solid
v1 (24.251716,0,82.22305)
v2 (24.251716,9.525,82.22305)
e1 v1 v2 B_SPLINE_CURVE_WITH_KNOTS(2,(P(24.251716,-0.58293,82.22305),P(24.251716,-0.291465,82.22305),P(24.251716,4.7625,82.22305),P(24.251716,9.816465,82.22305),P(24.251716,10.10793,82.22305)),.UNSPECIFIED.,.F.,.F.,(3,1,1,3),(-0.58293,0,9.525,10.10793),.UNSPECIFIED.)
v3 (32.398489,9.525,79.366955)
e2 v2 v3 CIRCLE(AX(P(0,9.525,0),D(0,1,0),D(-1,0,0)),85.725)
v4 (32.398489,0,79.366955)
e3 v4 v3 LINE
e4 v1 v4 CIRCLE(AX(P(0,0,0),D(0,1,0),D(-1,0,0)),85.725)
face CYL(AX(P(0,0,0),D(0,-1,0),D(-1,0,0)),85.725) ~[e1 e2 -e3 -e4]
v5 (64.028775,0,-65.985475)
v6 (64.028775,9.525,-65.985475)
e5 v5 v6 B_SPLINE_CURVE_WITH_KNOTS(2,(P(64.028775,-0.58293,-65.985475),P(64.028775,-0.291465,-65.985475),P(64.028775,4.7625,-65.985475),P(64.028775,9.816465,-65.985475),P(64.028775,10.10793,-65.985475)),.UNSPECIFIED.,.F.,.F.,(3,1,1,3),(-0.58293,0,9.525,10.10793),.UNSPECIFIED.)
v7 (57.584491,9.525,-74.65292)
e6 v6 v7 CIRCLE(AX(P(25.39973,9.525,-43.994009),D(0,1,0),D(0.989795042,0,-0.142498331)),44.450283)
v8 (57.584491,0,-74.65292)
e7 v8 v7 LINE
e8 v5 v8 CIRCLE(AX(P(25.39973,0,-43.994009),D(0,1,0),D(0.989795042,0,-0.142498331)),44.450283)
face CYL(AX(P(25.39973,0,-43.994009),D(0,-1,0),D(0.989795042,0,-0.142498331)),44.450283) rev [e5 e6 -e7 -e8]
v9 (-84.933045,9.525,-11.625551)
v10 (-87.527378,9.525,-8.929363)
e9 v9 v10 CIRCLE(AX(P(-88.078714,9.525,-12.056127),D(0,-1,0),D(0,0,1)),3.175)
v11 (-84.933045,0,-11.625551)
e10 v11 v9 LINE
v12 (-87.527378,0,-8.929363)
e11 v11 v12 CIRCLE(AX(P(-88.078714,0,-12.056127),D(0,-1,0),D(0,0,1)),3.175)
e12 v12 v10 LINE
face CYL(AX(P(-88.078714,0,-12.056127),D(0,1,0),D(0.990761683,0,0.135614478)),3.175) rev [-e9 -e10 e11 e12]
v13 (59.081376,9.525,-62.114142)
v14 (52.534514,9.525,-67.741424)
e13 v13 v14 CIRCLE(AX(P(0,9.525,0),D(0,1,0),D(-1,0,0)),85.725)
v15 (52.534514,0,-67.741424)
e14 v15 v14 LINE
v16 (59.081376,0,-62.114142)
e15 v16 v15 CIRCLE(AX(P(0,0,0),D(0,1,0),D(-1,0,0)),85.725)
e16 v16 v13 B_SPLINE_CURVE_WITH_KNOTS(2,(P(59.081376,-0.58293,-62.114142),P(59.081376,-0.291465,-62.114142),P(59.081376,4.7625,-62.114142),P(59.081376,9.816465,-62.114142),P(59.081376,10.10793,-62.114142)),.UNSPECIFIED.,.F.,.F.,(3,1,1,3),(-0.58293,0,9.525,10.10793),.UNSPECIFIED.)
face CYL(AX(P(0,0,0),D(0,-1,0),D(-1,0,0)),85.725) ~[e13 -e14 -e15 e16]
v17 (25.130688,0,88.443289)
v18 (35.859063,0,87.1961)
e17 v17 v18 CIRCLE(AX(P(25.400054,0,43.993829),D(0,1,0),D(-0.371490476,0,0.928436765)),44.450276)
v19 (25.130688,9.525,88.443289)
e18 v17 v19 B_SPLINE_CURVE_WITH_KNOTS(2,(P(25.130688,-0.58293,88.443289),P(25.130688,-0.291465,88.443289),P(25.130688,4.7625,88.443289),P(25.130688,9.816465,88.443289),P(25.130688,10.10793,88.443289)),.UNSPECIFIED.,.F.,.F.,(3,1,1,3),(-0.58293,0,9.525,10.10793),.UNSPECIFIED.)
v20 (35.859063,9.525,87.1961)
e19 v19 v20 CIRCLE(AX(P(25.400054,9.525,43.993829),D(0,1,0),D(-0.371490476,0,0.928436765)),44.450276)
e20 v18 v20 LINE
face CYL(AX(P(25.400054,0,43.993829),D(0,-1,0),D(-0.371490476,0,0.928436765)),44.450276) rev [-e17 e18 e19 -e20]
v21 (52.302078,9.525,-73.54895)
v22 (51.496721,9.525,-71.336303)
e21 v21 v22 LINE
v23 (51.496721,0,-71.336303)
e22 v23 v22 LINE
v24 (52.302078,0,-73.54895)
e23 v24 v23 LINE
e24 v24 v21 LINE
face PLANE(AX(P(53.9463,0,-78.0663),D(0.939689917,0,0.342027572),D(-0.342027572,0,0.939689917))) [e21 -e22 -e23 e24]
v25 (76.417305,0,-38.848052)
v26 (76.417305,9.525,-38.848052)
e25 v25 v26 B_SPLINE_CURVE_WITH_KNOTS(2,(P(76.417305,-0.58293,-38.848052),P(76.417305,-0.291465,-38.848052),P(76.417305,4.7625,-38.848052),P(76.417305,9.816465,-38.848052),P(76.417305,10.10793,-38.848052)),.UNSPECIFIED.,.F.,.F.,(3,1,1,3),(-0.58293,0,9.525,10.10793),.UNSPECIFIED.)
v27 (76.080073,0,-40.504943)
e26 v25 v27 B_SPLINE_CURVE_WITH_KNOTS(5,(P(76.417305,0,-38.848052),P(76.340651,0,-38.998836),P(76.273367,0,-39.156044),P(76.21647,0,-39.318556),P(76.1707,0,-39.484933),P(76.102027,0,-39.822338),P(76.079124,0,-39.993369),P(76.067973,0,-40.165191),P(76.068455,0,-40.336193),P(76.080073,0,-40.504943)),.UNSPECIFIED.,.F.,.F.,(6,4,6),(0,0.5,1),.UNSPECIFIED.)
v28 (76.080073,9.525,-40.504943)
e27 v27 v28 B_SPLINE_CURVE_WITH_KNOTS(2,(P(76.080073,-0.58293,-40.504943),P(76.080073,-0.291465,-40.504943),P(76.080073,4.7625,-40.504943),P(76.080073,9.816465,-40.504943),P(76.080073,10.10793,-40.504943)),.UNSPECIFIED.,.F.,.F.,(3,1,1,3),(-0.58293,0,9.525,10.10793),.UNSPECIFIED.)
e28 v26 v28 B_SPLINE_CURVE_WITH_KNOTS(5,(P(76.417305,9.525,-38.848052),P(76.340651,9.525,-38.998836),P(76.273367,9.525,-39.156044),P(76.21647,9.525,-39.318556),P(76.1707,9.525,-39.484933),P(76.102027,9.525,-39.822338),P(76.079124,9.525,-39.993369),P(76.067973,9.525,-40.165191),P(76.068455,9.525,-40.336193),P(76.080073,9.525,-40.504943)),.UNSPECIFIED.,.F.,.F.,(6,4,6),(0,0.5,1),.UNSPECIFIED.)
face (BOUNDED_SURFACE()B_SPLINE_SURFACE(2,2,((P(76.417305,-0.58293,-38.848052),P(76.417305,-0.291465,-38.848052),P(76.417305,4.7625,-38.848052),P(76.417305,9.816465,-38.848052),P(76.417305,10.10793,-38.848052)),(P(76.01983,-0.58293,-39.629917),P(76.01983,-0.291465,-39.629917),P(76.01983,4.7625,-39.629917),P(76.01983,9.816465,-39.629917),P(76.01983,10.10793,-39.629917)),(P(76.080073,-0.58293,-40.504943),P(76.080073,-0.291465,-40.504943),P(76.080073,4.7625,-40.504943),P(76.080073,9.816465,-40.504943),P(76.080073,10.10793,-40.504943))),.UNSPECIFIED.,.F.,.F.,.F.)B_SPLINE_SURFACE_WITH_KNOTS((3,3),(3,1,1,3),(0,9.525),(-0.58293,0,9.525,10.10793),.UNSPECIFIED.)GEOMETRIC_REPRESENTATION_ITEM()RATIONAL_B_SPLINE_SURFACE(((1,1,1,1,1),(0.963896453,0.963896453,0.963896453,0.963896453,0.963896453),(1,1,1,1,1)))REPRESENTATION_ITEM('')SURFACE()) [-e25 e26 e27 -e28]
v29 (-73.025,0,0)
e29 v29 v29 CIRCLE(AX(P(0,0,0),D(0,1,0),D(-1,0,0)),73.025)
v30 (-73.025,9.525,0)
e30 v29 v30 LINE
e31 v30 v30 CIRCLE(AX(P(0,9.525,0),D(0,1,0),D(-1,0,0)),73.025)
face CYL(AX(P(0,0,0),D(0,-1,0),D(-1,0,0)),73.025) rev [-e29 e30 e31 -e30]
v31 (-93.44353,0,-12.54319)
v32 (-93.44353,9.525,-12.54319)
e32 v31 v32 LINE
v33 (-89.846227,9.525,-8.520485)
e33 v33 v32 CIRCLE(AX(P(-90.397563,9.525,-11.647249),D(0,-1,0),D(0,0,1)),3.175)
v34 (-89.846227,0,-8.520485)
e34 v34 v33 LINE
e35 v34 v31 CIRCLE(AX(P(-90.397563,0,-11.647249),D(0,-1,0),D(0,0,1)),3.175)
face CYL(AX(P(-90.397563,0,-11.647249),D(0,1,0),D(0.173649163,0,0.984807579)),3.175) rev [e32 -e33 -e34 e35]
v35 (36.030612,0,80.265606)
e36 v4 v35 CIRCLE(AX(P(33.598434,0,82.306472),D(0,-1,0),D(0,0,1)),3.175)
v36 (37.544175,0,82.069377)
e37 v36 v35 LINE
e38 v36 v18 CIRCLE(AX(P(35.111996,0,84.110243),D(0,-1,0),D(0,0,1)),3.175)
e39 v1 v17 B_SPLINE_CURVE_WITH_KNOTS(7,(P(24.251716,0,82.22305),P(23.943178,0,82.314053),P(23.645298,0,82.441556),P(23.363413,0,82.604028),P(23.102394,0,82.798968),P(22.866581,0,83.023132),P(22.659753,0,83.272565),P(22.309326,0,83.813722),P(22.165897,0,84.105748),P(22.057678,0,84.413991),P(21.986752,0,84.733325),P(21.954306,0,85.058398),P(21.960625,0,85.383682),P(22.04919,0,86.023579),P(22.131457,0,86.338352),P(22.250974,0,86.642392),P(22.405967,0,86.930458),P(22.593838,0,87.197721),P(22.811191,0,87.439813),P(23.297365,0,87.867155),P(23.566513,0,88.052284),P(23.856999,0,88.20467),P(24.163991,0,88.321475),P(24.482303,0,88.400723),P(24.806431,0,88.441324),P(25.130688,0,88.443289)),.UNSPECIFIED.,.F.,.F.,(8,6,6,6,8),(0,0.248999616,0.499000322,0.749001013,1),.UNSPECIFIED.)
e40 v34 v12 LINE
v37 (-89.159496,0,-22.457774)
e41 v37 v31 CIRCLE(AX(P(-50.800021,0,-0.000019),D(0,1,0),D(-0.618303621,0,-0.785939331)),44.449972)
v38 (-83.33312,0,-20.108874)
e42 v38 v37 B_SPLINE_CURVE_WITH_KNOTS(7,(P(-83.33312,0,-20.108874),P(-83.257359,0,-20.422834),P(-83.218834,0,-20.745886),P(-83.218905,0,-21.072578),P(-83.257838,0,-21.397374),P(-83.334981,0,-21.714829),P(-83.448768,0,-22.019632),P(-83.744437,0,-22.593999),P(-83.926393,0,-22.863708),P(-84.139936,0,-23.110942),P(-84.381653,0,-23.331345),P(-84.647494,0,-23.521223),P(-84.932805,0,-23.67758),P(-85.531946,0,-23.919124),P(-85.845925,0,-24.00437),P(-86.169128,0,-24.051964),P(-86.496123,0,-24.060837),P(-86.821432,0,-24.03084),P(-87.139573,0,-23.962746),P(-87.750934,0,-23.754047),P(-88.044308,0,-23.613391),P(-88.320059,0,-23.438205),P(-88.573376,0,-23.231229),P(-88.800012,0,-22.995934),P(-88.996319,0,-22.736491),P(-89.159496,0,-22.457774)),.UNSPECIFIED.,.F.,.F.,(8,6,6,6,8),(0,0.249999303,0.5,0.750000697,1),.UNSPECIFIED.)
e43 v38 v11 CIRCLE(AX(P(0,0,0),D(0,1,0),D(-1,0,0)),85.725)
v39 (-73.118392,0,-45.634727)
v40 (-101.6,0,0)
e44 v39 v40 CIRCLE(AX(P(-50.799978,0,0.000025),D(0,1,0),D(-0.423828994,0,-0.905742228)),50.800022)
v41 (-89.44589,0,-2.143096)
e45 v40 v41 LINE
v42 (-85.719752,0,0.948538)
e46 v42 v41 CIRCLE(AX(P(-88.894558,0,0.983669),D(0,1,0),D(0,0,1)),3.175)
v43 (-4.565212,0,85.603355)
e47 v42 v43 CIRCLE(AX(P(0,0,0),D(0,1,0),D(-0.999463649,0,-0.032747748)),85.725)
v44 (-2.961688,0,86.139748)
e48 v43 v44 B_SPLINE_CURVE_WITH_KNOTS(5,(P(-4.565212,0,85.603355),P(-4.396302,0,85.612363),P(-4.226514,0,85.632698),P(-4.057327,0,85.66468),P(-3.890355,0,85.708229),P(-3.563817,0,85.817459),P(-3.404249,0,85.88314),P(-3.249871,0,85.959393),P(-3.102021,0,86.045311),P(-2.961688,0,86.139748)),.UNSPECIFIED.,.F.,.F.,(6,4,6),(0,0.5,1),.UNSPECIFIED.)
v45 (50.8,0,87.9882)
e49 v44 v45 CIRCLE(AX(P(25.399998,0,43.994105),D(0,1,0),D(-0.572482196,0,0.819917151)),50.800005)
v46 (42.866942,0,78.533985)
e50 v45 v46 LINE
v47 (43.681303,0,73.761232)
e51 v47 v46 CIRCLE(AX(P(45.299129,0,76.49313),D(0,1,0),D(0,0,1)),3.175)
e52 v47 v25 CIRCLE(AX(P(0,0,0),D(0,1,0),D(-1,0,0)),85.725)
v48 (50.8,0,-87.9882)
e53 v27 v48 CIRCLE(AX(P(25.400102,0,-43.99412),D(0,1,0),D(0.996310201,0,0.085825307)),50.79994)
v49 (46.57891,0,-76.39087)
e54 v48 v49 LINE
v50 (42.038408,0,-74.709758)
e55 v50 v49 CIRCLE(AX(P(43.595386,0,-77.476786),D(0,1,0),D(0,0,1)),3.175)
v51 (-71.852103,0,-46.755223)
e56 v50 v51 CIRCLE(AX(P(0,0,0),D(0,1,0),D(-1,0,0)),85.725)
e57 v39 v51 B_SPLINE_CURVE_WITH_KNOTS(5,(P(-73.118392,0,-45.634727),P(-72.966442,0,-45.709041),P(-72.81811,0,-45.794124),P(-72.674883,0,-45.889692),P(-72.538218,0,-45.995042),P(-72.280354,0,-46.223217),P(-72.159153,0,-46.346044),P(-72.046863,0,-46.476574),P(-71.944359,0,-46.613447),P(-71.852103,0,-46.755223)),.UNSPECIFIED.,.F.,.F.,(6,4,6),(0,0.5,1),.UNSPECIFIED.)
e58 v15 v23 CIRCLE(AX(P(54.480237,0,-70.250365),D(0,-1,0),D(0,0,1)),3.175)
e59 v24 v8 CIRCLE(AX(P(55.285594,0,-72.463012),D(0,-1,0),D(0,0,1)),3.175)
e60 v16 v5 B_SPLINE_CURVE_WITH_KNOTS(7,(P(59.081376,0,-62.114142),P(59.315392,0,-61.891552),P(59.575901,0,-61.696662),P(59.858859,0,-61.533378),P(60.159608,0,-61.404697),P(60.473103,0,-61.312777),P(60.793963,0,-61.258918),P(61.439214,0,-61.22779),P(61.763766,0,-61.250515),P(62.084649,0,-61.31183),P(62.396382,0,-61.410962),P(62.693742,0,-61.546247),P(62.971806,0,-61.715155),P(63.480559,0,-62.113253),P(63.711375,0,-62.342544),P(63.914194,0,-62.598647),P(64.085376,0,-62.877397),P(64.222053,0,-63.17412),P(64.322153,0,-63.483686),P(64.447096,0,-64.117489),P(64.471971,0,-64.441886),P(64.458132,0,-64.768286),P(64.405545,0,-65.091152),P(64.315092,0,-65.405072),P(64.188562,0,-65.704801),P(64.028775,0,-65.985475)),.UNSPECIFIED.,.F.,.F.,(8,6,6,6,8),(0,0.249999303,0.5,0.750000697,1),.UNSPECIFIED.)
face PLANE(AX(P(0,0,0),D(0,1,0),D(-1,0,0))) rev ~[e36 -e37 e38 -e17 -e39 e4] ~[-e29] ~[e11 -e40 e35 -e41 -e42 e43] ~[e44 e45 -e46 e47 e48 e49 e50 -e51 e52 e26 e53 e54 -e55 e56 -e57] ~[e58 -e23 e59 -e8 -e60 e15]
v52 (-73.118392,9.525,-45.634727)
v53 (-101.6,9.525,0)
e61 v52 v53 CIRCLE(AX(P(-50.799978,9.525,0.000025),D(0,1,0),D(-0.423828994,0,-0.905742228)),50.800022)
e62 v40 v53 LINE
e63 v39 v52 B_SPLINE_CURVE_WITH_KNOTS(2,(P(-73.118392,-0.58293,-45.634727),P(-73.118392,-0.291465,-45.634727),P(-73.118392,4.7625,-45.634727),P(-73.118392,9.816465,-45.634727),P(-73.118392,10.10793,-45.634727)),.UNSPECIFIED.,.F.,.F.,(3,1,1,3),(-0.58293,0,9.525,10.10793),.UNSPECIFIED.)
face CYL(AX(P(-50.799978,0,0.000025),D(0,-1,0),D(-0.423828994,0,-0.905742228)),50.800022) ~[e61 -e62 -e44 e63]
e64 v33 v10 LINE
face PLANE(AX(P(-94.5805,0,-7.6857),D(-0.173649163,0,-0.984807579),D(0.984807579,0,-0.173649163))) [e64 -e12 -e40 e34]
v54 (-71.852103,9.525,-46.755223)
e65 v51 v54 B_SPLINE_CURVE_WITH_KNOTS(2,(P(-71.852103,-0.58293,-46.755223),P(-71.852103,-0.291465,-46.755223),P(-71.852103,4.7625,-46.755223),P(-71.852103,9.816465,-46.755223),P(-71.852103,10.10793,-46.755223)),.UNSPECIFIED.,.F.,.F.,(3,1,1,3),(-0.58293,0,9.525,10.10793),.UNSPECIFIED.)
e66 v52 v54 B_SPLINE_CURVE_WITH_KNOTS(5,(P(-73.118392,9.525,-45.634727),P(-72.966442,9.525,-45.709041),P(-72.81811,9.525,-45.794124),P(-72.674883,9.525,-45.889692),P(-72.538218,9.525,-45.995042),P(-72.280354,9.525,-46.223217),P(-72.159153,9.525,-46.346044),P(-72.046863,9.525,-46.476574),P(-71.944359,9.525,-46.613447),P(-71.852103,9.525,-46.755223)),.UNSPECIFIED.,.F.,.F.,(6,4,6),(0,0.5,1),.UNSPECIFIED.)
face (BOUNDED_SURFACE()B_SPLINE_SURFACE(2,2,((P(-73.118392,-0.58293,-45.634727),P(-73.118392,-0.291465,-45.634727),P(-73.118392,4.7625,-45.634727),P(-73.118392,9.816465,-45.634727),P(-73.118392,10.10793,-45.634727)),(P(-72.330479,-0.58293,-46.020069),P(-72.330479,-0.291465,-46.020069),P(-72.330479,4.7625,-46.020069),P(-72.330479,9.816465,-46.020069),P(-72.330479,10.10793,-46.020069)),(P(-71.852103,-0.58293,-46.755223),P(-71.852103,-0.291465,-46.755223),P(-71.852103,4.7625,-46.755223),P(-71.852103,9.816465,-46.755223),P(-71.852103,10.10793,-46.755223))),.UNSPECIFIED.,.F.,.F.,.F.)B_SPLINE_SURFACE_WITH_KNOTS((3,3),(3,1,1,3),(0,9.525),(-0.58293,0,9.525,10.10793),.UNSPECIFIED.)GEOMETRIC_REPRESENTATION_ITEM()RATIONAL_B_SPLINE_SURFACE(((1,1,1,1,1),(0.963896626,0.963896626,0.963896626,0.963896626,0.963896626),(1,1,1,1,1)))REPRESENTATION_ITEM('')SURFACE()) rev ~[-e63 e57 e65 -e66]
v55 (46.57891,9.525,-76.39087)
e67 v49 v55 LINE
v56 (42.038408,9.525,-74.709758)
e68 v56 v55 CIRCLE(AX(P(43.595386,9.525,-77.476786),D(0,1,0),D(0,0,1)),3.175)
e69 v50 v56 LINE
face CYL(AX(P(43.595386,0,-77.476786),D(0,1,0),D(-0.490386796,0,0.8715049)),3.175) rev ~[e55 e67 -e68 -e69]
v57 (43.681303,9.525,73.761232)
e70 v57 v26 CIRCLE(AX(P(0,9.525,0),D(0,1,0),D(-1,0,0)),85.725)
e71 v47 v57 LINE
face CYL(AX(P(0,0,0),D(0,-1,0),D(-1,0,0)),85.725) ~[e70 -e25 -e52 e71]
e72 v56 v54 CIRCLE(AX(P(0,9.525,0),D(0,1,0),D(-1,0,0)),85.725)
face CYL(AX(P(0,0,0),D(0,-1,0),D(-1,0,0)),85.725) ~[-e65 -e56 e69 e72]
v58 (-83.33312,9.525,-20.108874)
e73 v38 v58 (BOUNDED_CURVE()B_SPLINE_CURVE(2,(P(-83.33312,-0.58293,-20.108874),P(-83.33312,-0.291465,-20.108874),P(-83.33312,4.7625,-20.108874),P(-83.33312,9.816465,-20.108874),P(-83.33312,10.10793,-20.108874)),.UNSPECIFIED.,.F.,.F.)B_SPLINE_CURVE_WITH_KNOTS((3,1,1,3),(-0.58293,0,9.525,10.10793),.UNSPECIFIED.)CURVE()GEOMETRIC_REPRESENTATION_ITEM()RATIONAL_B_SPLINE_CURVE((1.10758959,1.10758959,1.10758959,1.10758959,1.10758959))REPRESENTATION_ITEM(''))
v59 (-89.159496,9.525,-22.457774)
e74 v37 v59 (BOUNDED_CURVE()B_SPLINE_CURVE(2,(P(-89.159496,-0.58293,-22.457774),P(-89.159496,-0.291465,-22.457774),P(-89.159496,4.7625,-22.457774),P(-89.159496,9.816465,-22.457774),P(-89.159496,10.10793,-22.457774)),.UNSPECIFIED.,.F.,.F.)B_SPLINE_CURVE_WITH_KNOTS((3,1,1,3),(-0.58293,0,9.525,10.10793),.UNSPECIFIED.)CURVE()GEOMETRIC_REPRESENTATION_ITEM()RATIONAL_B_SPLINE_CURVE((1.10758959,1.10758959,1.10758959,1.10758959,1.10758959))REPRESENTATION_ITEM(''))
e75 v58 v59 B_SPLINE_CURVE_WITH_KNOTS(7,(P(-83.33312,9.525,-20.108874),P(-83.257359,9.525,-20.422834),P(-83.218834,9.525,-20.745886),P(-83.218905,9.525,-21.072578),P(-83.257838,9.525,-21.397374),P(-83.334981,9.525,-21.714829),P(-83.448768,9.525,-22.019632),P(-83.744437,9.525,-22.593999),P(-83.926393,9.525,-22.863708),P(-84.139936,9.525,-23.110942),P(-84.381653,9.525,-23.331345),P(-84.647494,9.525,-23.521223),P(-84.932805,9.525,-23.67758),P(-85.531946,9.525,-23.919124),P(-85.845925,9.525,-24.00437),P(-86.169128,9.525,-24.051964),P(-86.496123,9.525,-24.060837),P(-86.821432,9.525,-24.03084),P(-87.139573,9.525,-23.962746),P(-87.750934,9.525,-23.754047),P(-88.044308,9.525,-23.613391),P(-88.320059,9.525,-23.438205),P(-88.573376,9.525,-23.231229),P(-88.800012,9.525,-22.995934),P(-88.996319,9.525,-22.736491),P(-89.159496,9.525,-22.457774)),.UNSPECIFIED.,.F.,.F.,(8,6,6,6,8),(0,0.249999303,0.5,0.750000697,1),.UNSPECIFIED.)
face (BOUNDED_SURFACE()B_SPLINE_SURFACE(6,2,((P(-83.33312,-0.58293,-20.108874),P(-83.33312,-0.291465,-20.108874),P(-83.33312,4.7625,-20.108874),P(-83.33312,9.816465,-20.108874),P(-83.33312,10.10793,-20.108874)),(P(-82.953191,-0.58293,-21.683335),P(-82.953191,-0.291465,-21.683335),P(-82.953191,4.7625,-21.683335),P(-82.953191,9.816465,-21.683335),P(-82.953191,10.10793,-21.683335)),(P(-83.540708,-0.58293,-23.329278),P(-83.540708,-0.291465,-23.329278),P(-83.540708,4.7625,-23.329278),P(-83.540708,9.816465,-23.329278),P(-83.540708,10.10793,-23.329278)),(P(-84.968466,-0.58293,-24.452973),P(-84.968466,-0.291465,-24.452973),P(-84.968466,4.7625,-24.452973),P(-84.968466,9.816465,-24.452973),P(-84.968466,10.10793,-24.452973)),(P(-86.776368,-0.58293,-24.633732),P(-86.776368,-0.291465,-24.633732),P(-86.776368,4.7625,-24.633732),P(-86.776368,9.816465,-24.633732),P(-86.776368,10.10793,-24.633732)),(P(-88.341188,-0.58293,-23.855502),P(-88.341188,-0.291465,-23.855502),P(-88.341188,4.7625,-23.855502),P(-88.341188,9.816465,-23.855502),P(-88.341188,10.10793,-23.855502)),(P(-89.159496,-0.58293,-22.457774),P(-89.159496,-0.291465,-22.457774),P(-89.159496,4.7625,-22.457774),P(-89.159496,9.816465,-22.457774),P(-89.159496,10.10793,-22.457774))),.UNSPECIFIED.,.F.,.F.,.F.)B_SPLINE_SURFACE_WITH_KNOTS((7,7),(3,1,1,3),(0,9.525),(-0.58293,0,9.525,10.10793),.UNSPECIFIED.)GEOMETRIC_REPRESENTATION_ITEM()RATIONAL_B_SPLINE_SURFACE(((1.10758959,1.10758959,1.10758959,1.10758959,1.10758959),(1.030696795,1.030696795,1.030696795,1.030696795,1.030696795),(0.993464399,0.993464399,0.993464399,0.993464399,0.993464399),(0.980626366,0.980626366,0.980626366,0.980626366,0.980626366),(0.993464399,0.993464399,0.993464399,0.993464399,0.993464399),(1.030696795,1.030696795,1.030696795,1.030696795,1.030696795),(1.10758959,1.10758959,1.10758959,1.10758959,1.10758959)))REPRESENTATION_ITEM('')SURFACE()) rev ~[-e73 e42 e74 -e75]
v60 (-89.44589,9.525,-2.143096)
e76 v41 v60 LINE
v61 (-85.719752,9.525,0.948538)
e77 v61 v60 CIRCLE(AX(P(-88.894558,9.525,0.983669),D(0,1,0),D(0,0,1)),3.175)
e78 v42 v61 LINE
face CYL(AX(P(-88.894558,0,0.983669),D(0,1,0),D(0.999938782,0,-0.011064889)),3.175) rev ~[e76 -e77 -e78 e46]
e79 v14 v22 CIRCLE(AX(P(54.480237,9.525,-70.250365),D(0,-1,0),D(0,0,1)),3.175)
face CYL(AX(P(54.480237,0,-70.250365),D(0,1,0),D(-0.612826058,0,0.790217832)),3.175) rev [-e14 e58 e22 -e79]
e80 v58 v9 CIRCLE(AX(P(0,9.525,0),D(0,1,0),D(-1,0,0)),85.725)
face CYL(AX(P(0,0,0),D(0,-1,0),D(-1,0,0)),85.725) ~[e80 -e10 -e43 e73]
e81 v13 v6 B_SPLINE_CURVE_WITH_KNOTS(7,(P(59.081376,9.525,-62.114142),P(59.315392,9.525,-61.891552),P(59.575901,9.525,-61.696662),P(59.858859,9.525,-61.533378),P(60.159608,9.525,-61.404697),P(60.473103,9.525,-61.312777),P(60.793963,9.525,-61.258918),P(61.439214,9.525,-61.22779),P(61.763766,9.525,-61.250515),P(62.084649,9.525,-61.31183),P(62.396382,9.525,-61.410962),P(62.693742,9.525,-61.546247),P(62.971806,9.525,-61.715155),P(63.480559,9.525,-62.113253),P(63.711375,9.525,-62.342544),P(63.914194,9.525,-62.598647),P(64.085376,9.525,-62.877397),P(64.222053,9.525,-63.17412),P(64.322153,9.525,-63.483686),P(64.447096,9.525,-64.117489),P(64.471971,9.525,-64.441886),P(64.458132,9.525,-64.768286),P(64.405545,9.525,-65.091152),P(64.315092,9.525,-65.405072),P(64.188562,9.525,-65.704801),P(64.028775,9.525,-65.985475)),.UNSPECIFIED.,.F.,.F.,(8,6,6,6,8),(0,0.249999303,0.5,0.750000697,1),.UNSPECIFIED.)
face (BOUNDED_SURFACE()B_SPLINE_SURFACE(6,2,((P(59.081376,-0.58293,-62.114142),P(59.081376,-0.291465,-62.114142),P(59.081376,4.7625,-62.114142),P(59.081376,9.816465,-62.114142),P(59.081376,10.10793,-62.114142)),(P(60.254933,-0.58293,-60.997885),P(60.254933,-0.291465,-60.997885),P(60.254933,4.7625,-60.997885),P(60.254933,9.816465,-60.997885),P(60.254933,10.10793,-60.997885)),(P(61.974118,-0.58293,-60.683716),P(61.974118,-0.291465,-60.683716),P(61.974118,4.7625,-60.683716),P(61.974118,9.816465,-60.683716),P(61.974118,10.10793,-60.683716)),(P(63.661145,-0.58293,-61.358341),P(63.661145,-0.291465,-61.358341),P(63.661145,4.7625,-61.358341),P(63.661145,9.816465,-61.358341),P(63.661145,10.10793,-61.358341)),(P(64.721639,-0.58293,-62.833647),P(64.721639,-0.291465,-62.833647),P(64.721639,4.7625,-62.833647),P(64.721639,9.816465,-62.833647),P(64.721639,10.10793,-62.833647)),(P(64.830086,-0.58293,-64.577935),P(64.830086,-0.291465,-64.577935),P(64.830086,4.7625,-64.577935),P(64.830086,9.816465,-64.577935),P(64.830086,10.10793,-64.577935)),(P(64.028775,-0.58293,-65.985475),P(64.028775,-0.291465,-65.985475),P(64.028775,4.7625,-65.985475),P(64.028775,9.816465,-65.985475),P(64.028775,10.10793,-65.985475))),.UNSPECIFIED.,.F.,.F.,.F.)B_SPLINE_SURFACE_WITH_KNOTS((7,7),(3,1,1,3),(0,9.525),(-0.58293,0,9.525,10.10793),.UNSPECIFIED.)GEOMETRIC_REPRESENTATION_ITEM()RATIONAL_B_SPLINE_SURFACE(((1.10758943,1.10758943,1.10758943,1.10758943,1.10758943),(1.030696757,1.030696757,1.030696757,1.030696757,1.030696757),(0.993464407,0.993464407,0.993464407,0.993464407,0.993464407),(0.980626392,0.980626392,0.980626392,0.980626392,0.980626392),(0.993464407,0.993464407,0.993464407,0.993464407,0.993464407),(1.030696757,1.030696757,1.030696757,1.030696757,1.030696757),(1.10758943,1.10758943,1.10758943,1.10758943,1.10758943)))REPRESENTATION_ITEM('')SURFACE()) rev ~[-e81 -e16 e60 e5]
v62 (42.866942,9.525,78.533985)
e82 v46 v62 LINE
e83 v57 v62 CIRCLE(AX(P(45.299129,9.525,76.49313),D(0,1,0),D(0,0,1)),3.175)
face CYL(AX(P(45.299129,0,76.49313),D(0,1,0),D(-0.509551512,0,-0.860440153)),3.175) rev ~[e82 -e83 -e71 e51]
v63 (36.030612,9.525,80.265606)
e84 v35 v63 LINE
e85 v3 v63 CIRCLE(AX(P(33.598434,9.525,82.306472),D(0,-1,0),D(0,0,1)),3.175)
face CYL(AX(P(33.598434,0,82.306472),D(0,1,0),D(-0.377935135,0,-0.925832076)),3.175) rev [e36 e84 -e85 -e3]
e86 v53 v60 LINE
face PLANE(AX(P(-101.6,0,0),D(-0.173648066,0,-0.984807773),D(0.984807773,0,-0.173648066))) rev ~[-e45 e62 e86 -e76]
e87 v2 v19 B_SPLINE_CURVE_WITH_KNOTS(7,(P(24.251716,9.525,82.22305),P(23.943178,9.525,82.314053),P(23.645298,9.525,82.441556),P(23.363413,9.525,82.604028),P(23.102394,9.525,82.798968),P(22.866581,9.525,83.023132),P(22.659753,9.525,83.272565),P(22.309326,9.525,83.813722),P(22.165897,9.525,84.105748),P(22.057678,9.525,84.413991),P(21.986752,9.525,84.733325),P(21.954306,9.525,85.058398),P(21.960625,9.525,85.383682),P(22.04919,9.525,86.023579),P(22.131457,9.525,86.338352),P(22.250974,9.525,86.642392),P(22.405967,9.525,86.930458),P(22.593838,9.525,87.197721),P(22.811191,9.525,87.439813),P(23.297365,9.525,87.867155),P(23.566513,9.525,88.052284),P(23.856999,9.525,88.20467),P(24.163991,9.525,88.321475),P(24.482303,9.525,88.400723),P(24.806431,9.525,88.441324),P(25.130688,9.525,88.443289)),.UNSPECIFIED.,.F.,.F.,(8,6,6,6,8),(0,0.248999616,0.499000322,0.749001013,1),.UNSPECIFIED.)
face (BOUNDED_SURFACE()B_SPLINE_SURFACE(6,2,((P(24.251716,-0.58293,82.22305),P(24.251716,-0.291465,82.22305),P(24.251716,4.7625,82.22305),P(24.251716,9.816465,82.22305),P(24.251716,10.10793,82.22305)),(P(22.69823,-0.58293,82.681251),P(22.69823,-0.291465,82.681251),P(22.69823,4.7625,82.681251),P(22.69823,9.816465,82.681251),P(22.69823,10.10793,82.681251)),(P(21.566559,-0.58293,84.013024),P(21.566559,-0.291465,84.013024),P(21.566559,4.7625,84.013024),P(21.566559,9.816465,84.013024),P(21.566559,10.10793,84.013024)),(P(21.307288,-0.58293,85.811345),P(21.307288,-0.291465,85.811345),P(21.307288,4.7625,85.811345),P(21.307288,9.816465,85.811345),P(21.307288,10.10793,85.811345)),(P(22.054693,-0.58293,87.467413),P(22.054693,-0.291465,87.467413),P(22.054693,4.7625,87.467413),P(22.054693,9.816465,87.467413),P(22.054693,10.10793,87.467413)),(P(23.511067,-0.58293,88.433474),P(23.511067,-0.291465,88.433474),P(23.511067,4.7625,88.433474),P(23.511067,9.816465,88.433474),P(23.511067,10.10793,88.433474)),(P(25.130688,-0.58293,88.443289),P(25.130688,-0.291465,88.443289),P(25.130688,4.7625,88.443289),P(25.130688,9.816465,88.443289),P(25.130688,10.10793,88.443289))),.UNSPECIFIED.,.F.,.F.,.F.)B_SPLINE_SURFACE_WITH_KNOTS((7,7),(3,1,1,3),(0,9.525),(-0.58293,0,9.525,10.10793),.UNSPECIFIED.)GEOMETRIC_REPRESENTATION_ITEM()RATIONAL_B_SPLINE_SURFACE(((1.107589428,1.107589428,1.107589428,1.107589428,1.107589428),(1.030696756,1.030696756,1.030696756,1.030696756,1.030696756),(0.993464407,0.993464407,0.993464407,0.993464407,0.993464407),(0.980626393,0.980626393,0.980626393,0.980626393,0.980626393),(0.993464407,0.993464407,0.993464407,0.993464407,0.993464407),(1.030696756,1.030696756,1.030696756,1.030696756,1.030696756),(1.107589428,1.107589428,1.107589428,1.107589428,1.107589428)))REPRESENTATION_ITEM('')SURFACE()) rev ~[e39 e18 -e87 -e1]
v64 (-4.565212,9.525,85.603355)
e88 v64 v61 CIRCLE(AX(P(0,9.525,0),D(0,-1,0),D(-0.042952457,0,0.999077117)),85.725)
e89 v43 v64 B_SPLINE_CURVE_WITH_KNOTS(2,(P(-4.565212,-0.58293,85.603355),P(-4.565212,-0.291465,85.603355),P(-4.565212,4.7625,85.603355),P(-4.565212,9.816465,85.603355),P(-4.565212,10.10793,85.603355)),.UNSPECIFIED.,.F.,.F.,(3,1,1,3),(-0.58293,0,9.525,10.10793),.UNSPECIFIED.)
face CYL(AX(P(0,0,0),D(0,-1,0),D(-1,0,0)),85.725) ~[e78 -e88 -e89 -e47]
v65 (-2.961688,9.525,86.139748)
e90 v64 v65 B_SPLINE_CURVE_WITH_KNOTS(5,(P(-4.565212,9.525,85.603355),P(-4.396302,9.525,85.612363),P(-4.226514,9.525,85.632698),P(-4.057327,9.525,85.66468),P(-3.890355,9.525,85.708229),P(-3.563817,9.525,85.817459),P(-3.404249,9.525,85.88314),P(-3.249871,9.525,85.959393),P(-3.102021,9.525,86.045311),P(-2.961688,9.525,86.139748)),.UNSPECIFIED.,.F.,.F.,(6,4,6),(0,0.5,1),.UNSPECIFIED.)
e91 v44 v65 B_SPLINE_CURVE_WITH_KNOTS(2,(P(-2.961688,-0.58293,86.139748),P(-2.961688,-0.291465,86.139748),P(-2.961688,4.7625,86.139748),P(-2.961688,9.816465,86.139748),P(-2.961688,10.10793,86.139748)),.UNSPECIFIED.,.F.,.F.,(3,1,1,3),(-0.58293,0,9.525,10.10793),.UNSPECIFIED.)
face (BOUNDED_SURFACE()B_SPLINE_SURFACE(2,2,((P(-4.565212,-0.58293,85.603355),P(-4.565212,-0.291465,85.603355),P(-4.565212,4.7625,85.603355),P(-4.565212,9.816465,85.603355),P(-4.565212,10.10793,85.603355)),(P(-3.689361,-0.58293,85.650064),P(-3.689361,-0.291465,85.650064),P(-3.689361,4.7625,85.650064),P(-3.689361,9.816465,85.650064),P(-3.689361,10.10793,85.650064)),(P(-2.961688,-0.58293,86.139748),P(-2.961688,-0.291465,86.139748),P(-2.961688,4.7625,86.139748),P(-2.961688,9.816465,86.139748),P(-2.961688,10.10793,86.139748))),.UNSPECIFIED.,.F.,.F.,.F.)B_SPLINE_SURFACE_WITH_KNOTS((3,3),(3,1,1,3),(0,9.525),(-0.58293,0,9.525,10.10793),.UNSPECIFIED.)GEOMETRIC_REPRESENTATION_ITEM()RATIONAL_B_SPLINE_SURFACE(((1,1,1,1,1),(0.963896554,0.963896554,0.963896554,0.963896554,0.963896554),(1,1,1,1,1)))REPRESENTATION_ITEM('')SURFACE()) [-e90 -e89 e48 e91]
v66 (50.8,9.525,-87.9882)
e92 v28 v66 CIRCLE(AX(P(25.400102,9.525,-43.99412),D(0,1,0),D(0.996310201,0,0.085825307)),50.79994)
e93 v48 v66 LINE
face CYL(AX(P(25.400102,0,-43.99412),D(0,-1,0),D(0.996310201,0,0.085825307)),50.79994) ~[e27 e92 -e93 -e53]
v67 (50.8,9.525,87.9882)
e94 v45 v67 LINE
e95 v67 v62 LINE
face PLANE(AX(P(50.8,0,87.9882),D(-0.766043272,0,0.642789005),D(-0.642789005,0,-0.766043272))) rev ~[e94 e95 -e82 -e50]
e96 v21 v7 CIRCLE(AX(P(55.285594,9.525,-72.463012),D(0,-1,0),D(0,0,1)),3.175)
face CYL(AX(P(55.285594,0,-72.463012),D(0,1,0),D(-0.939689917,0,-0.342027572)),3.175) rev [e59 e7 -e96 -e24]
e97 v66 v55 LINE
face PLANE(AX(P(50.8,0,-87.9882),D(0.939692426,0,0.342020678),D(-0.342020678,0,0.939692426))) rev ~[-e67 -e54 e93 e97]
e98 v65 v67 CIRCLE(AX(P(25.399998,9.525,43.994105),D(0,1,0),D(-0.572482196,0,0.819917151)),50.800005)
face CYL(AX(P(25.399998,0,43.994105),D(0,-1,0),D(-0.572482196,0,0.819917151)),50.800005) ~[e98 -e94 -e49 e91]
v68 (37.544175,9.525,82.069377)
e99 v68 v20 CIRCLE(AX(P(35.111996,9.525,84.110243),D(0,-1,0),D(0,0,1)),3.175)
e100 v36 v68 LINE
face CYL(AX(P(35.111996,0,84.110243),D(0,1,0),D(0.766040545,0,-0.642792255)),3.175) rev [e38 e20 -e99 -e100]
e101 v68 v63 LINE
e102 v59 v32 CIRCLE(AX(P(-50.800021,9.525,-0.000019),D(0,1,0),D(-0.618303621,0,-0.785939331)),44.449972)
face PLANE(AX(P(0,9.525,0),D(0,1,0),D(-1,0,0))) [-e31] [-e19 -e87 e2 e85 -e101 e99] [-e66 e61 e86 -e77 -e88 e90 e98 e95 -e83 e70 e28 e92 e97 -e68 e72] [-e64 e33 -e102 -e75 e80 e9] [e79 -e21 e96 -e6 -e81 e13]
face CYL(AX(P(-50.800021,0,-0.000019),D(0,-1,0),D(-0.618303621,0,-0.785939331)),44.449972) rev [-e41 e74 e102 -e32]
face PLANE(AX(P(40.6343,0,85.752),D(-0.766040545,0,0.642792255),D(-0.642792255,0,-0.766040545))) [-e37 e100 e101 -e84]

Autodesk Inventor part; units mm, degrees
ref_plane "YZ Plane" through (0, 0, 0) normal (1, 0, 0) x (0, 1, 0)
ref_plane "XZ Plane" through (0, 0, 0) normal (0, 1, 0) x (-1, 0, 0)
ref_plane "XY Plane" through (0, 0, 0) normal (0, 0, 1) x (1, 0, 0)
sketch "Sketch1" plane through (0, 0, 0) normal (0, 1, 0) x (-1, 0, 0)
  circle A0 centre (0, 0) radius 73.025
  circle A1 centre (0, 0) radius 85.725
  line L0 (0, 0) -> (101.6, 0) construction
  line L1 (101.6, 0) -> (85.679, -2.8073)
  arc A2 (72.3305, -46.0117) -> (101.6, 0) centre (50.8, 0) ccw
  line L2 (-50.8, 87.9882) -> (-40.4083, 75.6039)
  arc A3 (3.6821, 85.6459) -> (-50.8, 87.9882) centre (-25.4, 43.9941) ccw
  line L3 (-50.8, -87.9882) -> (-45.2707, -72.7966)
  arc A4 (-76.0126, -39.6342) -> (-50.8, -87.9882) centre (-25.4, -43.9941) ccw
  arc A5 (78.2836, -34.935) -> (94.5805, -7.6857) centre (50.8, 0) ccw
  line L4 (94.5805, -7.6857) -> (85.215, -9.3371)
  line L5 (-40.6343, 85.752) -> (-34.5213, 78.4669)
  arc A6 (-8.8872, 85.2631) -> (-40.6343, 85.752) centre (-25.4, 43.9941) ccw
  line L6 (-53.9463, -78.0663) -> (-50.6936, -69.1298)
  arc A7 (-69.3964, -50.3281) -> (-53.9463, -78.0663) centre (-25.4, -43.9941) ccw
  point P0 (85.725, 0)
  point P1 (-42.8625, 74.24)
  point P2 (-42.8625, -74.24)
  point P3 (-8.8872, 85.2631)
  dimension "Ring_ID" = 146.05
  dimension "RingWD" = 12.7
  dimension "ToothDepth" = 15.875
  dimension "d4" = 10
  dimension "d5" = 50.8
  dimension "d8" = 360
  dimension "d13" = 6.35
  dimension "d14" = 6.35
  dimension "d17" = 360
extrude "Extrusion1" add sketch "Sketch1" along normal blind 9.525 contours A1 | A1 A6 L5 L2 A3 | L1 A2 A1 A5 L4 | A1 A7 L6 L3 A4
fillet "Fillet1" radius 3.175 6 edges at (40.4083, 4.7625, 75.6039) (-3.6821, 4.7625, 85.6459) (76.0126, 4.7625, -39.6342) (45.2707, 4.7625, -72.7966) (-85.679, 4.7625, -2.8073) (-72.3305, 4.7625, -46.0117)
fillet "Fillet2" radius 3.175 9 edges at (53.9463, 4.7625, -78.0663) (50.6936, 4.7625, -69.1298) (69.3964, 4.7625, -50.3281) (-94.5805, 4.7625, -7.6857) (-85.215, 4.7625, -9.3371) (-78.2836, 4.7625, -34.935) (40.6343, 4.7625, 85.752) (34.5213, 4.7625, 78.4669) (8.8872, 4.7625, 85.2631)
properties part number "Blade V2" material "Stainless Steel"
